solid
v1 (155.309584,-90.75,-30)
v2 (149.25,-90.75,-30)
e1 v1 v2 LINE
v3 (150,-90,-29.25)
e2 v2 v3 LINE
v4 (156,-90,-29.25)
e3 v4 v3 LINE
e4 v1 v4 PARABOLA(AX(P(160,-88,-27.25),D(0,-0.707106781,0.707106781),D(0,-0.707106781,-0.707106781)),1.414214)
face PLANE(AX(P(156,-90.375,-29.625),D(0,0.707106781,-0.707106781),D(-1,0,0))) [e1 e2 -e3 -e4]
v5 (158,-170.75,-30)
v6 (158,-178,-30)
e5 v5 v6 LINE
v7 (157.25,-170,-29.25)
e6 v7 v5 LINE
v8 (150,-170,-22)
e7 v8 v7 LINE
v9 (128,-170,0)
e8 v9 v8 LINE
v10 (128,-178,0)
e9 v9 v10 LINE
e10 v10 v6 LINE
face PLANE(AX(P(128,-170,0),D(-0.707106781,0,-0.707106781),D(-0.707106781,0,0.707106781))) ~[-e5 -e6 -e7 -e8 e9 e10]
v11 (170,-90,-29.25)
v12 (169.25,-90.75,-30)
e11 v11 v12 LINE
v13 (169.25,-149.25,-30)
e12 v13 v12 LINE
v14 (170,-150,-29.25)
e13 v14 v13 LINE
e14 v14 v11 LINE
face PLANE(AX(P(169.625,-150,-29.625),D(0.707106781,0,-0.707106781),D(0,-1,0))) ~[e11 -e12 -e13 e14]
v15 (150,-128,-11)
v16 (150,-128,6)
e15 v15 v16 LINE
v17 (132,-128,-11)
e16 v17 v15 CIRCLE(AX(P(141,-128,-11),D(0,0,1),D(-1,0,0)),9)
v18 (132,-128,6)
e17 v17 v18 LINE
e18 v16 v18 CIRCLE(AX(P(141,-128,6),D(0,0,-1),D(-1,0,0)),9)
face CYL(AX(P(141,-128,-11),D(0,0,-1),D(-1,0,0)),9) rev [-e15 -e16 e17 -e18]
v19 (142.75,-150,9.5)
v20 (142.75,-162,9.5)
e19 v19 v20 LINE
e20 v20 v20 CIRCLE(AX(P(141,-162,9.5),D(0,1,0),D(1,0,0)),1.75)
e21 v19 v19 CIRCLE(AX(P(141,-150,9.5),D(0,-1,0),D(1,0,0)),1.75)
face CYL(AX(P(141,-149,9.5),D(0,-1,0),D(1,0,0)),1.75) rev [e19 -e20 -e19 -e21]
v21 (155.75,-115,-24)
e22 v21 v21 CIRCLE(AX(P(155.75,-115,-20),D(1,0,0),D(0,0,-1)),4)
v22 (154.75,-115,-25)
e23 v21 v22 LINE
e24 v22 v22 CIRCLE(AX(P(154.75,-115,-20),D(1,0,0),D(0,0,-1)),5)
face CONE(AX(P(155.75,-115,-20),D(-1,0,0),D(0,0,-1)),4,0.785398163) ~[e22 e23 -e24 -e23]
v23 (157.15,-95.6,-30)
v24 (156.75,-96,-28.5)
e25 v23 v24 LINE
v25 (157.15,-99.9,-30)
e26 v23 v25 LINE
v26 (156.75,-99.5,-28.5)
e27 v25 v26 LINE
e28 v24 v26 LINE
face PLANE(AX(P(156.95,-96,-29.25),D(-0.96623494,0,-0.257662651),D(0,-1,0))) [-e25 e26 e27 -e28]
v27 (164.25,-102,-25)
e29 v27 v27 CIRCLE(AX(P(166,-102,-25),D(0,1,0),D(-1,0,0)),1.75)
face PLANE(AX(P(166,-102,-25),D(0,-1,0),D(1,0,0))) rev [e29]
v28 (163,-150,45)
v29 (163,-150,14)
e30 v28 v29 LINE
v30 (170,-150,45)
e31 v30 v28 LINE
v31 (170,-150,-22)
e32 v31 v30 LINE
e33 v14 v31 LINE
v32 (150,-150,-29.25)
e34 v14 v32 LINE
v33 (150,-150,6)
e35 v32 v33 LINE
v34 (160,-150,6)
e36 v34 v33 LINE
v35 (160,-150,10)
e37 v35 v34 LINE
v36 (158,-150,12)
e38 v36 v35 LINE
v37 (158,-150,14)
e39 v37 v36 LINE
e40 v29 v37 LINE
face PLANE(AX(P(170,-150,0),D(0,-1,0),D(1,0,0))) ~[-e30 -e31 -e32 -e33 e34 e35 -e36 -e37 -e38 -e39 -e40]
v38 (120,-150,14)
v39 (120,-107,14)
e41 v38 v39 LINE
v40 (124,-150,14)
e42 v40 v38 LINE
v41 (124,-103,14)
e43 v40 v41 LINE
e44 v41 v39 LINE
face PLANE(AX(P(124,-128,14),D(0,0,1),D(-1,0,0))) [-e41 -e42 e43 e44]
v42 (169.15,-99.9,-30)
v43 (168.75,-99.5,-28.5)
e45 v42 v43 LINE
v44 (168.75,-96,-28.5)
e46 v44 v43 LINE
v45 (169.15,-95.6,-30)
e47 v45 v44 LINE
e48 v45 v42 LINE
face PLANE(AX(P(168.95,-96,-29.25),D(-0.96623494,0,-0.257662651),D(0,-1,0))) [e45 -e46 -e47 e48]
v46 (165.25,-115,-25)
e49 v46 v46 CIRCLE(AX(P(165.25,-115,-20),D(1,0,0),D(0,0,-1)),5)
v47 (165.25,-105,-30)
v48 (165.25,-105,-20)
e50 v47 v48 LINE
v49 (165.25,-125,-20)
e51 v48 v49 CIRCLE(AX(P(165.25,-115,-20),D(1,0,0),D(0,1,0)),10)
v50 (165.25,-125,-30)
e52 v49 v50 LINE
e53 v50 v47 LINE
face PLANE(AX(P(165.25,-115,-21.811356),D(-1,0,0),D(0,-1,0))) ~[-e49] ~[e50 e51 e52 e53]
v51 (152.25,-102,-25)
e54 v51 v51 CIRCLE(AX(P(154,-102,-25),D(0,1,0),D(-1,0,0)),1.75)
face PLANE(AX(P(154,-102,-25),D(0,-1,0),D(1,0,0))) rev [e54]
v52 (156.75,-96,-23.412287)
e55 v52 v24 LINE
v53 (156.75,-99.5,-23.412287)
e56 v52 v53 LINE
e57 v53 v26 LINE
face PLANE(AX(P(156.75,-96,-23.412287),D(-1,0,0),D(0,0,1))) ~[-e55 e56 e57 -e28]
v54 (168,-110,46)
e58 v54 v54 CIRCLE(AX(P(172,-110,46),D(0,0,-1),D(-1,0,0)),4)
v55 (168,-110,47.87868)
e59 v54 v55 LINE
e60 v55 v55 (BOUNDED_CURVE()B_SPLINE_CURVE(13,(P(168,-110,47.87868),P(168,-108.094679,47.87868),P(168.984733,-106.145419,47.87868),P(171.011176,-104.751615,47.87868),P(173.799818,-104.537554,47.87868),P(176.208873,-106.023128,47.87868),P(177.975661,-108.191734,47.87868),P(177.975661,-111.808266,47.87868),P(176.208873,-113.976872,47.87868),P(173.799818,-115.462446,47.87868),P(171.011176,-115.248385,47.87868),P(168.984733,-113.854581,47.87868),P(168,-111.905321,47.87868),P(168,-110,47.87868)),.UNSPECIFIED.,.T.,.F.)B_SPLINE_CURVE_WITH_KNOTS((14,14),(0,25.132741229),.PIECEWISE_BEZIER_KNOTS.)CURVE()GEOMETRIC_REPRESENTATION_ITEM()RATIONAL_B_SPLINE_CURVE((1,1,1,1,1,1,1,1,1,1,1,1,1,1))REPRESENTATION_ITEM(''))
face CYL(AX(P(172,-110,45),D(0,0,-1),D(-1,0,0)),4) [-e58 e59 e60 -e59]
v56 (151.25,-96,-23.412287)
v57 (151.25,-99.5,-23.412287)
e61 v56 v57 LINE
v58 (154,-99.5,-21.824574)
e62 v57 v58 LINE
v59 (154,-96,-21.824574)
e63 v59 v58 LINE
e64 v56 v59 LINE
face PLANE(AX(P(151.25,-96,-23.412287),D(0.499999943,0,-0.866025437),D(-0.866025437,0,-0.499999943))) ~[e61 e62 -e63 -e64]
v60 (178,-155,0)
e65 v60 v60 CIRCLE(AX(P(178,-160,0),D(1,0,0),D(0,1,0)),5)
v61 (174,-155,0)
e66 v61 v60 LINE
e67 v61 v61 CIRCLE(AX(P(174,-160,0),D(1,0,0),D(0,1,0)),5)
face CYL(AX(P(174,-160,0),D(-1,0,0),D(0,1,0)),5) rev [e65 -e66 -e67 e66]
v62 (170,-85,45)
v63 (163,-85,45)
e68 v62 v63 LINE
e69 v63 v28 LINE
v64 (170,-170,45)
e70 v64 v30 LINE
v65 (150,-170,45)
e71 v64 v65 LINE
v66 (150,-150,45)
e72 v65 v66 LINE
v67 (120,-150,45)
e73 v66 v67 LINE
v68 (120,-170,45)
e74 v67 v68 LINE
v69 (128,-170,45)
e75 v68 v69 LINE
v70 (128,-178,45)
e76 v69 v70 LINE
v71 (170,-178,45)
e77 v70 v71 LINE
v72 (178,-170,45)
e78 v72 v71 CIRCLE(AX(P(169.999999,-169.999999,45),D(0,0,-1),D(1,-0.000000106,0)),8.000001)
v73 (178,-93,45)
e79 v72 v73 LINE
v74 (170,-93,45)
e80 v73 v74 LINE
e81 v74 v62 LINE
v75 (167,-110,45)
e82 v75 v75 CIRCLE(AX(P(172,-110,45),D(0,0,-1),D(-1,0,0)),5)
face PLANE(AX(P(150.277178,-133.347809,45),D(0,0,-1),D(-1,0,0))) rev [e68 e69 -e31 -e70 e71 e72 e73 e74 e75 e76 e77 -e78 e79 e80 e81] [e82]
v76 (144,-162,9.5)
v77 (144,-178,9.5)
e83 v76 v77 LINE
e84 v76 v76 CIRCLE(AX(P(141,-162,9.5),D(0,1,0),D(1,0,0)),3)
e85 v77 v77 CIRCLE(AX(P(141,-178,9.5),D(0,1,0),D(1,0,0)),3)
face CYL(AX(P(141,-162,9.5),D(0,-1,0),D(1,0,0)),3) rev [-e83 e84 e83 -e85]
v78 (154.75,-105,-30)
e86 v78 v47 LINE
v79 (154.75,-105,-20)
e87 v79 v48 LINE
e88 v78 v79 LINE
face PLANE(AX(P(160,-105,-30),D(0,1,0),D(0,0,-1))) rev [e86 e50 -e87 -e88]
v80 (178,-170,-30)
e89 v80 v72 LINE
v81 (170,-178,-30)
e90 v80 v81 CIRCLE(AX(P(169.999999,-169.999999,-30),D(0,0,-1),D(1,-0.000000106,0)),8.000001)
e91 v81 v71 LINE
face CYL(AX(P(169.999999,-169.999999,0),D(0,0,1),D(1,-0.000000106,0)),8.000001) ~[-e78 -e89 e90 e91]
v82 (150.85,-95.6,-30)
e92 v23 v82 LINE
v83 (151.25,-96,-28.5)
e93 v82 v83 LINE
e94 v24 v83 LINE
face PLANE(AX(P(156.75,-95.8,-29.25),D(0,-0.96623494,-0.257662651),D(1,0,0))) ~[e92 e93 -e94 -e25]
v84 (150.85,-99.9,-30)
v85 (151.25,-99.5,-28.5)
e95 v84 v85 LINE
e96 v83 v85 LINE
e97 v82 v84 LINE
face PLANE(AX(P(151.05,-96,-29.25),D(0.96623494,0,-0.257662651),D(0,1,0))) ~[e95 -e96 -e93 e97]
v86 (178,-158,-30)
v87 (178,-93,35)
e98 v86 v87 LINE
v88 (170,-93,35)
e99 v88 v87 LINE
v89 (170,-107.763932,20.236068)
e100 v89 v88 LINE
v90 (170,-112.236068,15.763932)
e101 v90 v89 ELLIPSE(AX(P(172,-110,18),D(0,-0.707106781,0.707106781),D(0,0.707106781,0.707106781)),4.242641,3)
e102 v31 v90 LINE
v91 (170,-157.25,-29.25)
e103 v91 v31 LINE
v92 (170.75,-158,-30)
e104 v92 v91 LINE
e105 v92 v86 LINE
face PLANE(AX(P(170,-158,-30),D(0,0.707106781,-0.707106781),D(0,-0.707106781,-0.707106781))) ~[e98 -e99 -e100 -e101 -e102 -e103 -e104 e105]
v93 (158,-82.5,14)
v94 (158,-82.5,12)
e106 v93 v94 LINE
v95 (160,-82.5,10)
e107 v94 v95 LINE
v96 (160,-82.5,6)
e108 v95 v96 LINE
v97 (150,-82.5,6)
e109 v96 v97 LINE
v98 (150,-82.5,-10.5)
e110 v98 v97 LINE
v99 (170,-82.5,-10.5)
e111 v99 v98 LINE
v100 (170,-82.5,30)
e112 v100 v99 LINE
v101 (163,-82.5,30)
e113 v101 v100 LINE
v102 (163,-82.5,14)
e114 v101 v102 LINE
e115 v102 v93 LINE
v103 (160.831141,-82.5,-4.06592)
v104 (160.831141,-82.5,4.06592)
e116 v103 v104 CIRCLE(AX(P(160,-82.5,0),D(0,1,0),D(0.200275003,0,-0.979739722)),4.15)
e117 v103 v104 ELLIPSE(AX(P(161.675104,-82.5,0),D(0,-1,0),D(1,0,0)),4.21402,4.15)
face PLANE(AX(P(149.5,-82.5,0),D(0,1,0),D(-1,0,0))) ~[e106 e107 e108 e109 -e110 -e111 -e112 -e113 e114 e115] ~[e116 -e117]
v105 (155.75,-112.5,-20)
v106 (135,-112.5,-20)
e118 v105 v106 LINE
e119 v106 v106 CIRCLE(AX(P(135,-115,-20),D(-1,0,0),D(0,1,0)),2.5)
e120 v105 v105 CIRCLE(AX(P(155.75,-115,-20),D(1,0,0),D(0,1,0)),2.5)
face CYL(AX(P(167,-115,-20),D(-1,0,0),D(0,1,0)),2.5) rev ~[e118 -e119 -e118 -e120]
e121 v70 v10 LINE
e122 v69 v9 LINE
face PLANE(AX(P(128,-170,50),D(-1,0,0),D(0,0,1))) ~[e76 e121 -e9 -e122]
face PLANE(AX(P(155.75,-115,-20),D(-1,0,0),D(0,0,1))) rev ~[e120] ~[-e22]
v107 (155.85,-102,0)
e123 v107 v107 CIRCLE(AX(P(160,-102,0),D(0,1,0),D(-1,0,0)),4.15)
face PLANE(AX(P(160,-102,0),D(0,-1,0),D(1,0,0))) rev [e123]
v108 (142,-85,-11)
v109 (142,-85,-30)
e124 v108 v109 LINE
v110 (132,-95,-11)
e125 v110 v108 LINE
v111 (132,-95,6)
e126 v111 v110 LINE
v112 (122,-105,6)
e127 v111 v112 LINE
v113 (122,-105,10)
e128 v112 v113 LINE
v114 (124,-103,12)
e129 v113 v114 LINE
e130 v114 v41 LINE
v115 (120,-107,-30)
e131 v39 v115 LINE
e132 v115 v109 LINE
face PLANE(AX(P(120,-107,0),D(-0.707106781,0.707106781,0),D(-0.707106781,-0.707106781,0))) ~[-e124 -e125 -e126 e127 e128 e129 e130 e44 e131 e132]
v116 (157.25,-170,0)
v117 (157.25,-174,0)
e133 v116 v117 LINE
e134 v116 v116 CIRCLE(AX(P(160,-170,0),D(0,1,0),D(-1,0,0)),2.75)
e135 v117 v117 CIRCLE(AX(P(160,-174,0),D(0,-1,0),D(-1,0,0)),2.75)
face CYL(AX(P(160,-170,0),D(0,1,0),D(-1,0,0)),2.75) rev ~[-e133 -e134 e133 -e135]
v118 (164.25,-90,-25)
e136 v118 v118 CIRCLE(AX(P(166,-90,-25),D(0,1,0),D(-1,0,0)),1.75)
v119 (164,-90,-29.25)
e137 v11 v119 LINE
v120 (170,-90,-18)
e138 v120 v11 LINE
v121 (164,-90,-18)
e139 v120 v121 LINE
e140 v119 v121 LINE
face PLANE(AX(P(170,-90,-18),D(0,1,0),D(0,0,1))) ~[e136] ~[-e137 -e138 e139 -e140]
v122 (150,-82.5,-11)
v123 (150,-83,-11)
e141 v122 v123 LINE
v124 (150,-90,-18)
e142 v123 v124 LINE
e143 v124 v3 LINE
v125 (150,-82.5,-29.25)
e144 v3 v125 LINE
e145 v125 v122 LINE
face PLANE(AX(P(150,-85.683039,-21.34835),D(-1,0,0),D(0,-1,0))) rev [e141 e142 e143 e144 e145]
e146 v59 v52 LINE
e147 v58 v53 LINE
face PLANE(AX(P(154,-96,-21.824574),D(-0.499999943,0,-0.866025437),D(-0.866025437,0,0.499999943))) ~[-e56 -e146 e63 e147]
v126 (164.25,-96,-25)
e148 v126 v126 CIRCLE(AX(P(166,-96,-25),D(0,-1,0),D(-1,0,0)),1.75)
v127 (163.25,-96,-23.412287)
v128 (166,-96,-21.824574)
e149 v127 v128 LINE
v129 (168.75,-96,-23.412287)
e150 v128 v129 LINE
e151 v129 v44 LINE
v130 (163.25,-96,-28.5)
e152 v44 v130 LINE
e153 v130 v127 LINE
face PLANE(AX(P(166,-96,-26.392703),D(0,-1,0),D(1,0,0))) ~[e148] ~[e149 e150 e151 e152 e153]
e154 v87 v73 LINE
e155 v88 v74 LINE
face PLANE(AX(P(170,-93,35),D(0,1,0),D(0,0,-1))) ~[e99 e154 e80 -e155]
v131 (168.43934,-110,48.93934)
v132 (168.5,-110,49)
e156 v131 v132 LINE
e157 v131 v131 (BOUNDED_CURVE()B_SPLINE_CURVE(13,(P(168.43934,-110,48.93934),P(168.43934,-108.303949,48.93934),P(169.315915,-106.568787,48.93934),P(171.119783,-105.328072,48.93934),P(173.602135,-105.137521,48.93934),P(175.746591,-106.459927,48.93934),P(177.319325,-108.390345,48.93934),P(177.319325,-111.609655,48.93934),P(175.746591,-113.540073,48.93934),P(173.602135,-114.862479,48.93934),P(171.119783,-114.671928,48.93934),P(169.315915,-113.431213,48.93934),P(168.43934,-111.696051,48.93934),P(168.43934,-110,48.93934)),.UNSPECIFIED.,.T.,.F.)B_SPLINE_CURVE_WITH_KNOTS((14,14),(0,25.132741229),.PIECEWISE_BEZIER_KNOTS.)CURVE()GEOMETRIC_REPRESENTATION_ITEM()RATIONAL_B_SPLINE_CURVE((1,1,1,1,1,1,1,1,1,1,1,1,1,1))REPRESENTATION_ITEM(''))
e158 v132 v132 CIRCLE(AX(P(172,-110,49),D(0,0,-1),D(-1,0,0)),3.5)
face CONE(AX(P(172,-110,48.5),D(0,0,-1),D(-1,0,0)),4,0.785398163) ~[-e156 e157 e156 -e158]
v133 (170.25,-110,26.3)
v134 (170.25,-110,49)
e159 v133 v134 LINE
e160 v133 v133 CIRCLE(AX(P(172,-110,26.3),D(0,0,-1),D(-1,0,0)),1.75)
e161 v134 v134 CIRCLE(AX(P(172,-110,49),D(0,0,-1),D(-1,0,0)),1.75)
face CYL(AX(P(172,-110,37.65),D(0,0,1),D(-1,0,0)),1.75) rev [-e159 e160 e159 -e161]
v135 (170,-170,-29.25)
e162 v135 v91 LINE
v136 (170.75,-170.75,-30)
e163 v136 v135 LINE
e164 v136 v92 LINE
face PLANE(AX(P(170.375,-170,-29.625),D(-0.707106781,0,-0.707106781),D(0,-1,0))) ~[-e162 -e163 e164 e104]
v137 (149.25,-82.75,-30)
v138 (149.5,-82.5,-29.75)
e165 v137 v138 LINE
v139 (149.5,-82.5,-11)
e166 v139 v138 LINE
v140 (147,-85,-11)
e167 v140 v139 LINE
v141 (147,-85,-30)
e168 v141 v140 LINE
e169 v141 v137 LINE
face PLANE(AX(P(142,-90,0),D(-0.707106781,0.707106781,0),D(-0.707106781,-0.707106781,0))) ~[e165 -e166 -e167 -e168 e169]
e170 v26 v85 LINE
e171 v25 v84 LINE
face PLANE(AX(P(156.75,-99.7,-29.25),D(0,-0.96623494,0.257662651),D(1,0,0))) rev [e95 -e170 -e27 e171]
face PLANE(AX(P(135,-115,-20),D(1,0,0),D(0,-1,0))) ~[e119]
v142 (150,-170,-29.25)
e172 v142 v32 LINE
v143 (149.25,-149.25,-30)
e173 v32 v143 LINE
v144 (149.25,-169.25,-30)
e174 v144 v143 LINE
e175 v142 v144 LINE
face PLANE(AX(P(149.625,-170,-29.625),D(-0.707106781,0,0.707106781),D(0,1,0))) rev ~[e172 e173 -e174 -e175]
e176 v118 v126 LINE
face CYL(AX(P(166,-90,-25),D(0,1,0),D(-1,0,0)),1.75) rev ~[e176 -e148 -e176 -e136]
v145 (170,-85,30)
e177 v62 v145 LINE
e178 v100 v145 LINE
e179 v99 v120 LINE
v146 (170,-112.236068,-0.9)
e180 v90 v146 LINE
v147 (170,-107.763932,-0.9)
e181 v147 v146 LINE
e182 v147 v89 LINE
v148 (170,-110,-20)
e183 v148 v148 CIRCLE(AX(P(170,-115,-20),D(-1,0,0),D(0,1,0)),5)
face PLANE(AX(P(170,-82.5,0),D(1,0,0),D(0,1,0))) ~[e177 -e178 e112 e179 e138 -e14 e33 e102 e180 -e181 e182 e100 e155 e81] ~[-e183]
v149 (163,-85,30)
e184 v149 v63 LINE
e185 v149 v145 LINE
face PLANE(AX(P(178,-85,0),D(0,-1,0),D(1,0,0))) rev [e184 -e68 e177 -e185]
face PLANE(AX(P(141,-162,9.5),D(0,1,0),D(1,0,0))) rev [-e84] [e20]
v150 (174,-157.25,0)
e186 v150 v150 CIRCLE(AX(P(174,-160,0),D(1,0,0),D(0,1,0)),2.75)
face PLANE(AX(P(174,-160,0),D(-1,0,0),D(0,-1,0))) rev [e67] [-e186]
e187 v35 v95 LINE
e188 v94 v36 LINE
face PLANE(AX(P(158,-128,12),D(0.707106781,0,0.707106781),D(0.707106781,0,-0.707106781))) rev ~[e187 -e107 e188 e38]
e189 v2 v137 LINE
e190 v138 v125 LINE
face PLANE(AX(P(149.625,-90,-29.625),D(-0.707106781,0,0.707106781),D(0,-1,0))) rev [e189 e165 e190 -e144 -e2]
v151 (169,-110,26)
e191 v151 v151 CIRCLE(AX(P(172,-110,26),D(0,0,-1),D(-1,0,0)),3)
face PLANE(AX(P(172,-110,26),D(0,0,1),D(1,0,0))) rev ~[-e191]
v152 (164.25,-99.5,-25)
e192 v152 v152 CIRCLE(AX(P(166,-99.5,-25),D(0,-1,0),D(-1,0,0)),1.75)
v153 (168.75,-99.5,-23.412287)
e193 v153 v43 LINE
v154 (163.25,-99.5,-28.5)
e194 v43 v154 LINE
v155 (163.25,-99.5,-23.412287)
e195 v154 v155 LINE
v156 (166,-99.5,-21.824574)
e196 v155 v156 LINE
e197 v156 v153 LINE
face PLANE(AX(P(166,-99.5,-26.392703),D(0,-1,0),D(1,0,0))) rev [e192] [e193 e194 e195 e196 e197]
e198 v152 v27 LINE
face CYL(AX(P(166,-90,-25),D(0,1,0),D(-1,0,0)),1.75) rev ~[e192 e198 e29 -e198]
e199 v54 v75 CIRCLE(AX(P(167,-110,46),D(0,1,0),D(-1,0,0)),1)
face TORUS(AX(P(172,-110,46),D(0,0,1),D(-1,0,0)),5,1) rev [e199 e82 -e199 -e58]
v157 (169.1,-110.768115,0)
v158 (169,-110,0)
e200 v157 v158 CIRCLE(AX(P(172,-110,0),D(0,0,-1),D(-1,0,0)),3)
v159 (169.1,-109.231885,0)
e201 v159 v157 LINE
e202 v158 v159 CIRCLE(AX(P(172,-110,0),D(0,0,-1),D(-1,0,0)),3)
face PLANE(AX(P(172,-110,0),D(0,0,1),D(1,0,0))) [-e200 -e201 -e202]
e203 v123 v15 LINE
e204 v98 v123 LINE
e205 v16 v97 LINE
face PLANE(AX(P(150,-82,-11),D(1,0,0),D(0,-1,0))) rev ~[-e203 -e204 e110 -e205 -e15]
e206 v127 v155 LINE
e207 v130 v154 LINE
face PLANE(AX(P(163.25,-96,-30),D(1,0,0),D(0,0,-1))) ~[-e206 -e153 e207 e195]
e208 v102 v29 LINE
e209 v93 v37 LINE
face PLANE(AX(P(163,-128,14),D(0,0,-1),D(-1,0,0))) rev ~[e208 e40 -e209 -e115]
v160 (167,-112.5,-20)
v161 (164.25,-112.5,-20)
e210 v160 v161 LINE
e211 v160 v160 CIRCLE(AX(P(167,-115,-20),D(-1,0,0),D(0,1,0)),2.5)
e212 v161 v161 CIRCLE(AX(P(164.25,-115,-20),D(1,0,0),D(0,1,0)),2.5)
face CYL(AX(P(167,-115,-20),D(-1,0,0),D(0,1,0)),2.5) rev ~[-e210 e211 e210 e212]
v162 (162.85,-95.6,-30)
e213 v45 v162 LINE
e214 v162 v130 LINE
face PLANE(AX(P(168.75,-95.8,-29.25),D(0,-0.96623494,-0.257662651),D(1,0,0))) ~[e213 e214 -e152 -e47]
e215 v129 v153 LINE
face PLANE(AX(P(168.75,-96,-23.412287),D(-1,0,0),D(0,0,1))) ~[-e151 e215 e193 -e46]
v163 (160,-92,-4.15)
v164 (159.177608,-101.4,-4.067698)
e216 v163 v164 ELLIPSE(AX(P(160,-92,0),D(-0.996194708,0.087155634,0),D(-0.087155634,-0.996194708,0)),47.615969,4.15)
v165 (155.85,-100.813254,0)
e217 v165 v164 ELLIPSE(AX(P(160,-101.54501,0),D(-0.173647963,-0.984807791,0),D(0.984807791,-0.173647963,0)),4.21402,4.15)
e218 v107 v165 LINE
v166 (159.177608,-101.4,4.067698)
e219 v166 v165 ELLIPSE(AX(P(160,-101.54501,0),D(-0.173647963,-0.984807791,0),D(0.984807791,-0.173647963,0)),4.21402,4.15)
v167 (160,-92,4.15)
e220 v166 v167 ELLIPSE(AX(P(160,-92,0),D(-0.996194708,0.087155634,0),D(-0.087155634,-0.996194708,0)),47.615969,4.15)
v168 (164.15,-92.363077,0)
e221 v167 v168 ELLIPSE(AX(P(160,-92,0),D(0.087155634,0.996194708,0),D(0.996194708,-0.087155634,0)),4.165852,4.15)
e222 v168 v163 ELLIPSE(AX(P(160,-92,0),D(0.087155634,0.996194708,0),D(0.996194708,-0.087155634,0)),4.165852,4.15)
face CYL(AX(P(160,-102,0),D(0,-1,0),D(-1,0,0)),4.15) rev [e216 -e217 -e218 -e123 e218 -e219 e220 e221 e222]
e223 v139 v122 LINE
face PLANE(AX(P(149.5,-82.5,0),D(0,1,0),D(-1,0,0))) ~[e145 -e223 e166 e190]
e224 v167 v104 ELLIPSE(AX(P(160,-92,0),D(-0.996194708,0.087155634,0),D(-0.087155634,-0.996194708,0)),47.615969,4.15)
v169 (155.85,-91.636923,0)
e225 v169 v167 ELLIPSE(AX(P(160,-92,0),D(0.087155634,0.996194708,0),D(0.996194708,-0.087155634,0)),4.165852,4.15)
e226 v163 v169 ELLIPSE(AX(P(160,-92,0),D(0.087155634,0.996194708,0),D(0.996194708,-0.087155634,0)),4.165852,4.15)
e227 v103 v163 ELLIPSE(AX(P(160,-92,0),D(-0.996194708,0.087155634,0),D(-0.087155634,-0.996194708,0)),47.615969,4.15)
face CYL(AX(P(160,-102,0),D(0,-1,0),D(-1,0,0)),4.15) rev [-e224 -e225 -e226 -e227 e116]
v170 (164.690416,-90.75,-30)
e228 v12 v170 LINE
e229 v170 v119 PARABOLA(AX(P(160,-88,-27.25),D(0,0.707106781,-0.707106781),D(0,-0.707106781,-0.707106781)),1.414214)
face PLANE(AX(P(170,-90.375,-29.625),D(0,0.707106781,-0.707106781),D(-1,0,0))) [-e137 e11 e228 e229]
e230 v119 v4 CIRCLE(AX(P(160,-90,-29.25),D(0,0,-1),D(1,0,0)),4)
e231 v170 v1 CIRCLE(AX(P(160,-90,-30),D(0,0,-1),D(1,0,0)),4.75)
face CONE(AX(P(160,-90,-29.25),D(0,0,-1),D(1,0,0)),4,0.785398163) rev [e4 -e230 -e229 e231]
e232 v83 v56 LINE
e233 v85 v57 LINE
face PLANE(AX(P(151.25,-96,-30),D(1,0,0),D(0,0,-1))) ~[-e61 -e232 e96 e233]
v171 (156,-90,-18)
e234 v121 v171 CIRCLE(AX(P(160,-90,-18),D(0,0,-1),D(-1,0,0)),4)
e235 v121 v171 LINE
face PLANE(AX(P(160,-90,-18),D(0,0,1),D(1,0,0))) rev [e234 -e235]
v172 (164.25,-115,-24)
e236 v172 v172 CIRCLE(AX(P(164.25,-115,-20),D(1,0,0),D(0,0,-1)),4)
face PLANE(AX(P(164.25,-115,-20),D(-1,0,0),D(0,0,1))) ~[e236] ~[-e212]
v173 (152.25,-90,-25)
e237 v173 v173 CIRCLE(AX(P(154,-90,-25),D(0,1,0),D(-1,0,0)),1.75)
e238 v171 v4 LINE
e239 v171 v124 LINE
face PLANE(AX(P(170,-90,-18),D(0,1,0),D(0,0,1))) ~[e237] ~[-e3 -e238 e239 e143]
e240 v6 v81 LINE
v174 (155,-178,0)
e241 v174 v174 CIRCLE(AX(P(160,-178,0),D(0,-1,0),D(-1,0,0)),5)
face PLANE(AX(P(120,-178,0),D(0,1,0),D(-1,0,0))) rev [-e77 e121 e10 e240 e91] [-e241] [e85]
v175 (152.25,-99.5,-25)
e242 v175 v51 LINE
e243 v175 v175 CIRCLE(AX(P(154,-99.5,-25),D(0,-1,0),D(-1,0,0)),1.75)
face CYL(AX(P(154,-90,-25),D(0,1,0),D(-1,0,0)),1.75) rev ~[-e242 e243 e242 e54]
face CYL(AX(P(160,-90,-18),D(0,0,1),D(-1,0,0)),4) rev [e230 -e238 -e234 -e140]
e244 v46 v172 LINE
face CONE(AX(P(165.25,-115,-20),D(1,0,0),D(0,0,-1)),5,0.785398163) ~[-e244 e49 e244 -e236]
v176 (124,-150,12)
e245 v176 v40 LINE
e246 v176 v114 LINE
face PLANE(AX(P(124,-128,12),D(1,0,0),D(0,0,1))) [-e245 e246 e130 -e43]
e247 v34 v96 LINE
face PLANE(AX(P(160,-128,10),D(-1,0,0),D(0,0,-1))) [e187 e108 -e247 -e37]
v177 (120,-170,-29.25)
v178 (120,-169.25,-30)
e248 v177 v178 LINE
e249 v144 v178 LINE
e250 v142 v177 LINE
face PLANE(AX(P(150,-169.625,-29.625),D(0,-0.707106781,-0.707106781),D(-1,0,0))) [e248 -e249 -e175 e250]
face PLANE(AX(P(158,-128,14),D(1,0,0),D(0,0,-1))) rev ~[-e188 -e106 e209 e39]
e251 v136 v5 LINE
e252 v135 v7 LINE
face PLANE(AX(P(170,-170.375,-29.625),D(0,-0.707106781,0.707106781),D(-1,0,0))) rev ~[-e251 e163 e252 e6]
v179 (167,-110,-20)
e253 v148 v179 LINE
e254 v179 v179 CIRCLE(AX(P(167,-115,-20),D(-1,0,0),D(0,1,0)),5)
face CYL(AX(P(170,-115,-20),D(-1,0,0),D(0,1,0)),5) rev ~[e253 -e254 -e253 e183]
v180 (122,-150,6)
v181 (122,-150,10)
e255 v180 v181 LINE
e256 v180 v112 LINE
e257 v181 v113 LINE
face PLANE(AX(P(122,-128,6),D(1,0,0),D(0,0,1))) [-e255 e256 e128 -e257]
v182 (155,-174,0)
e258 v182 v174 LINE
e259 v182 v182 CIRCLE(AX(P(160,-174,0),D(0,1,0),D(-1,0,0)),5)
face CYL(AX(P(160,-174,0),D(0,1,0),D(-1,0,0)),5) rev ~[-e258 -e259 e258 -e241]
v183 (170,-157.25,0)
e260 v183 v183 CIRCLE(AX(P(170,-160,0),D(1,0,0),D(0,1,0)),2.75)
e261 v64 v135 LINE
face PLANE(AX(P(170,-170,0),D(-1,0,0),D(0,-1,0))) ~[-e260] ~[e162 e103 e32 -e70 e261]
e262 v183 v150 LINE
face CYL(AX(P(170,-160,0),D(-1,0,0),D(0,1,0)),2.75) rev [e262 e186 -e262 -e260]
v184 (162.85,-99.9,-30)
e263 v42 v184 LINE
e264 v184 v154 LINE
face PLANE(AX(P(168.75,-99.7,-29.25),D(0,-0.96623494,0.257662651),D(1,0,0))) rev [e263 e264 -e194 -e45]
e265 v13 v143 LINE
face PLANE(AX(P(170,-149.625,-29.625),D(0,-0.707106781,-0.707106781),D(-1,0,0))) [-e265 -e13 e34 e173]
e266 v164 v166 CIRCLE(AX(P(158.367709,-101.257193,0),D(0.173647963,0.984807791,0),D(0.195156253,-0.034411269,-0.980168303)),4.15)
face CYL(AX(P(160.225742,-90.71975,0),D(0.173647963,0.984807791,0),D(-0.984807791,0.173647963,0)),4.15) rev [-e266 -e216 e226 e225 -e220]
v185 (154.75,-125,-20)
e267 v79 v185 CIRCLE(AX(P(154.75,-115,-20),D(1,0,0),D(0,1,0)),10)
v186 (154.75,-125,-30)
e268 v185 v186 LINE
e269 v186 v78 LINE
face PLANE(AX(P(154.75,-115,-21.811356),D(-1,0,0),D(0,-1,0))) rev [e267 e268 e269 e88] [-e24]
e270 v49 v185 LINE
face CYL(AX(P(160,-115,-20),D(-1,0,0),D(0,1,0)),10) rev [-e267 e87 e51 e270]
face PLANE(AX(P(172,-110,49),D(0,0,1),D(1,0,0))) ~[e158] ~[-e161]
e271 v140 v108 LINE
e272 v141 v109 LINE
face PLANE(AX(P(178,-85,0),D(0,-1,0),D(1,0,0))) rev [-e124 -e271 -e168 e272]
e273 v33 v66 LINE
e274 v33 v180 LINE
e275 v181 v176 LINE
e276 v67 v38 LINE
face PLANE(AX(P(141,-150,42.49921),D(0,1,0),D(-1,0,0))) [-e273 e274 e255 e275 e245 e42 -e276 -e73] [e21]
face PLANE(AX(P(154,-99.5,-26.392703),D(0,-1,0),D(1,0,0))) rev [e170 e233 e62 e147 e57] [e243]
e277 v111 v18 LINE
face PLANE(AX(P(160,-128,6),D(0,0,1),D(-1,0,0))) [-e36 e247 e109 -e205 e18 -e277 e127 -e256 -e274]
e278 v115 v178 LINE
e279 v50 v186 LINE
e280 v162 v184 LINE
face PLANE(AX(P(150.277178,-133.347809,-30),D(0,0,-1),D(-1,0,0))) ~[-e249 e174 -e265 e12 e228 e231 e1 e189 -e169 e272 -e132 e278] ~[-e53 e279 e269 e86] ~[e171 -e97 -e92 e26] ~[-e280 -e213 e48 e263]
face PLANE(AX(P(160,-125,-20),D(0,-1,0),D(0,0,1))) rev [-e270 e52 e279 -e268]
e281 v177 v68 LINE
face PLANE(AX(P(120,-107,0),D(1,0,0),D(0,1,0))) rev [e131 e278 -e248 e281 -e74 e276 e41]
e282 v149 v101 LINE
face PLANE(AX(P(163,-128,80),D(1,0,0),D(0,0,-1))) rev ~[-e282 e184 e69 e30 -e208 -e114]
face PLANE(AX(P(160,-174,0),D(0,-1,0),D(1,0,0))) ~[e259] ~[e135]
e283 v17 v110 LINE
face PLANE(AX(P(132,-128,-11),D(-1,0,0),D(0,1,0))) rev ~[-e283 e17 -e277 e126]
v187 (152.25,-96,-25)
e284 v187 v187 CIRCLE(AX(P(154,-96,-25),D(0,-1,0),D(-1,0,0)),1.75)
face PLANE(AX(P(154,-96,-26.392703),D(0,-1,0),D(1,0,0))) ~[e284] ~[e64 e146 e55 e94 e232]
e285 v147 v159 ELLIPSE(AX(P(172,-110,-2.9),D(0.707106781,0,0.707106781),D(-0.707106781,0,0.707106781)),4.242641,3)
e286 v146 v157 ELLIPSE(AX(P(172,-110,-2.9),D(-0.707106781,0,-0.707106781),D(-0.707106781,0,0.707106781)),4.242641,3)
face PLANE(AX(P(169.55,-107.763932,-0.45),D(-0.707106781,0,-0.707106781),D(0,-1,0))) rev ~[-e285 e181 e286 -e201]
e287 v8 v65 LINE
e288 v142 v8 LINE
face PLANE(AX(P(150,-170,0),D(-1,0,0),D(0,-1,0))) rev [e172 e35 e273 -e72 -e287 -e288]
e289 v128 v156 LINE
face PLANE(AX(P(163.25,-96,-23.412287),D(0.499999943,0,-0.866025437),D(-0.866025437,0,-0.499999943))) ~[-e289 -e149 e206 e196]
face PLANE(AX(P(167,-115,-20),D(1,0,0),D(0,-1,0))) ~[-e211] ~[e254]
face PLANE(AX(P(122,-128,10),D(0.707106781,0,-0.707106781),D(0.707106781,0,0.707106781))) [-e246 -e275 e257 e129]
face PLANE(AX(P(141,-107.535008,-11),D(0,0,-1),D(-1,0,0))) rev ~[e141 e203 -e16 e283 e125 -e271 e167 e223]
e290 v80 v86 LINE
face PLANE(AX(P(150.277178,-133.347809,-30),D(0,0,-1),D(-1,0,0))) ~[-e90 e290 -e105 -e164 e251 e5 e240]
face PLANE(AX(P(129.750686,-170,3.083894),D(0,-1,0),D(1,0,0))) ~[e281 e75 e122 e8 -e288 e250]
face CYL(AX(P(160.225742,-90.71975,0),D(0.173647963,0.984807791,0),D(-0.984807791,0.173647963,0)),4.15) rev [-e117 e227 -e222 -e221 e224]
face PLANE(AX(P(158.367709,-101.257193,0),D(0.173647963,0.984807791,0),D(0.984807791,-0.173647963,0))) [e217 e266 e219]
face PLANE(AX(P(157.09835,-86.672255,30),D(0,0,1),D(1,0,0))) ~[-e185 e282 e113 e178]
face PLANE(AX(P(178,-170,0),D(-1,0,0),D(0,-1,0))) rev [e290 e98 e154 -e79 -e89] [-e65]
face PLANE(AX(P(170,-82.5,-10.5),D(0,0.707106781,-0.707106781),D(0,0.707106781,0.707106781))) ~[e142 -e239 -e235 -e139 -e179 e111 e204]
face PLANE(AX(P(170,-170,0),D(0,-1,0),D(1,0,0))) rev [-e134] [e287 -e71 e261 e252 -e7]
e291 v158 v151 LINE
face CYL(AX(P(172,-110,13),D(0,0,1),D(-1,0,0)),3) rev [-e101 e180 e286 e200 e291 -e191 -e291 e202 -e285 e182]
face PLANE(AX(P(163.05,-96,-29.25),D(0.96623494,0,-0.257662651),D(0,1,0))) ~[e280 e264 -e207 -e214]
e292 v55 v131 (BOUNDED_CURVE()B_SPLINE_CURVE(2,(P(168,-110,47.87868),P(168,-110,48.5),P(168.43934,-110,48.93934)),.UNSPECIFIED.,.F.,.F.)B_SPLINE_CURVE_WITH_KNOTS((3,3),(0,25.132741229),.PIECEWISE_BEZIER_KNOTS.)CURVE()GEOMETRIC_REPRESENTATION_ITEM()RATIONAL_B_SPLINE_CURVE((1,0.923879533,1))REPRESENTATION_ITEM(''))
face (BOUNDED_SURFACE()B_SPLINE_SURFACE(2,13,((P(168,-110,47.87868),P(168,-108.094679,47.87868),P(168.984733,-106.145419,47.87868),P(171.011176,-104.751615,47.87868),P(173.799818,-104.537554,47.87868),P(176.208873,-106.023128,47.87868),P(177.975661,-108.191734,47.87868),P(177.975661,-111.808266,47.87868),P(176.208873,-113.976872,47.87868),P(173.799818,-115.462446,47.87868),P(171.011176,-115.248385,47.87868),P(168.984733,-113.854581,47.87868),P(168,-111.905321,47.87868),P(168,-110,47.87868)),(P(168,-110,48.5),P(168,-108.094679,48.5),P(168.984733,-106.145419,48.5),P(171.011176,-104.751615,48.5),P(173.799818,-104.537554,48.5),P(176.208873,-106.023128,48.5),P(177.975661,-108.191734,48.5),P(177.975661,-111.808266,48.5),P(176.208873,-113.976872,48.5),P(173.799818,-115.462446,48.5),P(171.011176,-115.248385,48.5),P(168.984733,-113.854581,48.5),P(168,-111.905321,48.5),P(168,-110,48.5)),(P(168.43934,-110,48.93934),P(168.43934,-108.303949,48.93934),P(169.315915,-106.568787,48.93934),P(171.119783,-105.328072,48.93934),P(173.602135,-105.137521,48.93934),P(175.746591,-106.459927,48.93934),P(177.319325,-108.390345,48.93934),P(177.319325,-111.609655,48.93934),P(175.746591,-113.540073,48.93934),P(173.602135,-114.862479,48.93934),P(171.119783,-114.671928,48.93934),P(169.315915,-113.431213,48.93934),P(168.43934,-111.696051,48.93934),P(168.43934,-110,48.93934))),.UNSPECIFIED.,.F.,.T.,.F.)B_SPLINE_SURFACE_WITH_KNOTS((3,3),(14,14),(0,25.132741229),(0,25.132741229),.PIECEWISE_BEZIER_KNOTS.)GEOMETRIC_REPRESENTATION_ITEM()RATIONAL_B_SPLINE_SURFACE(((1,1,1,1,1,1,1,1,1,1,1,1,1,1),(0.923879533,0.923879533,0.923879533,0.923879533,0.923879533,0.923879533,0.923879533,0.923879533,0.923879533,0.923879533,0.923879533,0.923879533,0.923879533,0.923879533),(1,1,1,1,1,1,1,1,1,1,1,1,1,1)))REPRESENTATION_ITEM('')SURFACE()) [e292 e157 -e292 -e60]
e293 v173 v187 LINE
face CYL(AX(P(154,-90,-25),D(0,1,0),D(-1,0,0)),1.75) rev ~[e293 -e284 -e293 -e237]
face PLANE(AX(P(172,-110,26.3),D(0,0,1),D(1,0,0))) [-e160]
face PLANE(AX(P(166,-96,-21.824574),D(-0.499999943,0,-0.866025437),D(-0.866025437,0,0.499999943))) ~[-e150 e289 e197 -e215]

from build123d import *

# Parameters (mm, degrees)
SKETCH486_W          = 20
SKETCH486_H          = 20
PAD109_DEPTH         = 45
PAD109_DEPTH_BACK    = 30
PAD111_DEPTH         = 30
PAD111_DEPTH_BACK    = 30
POCKET345_DEPTH      = 8.001
POCKET348_DEPTH      = 8.001
POCKET371_DEPTH      = 5.25
SKETCH591_R          = 2.75
POCKET420_DEPTH      = 8.001
SKETCH592_R          = 5
POCKET421_DEPTH      = 4.001
SKETCH593_R          = 2.75
POCKET422_DEPTH      = 8.001
SKETCH594_R          = 5
POCKET423_DEPTH      = 4.001
SKETCH630_R          = 4
POCKET453_DEPTH      = 12.001
POCKET454_DEPTH      = 20
SKETCH632_R          = 1.75
POCKET455_DEPTH      = 12
POCKET456_DEPTH      = 3.5
SKETCH634_R          = 4.15
POCKET457_DEPTH      = 19.501
SKETCH651_W          = 4.15
SKETCH651_H          = 21.4
SKETCH663_R          = 4
PAD139_DEPTH         = 4
CHAMFER029_SIZE      = 0.5
FILLET027_R          = 1.5
FILLET028_R          = 1
SKETCH662_W          = 1.75
SKETCH662_H          = 22.7
SKETCH662_W_2        = 3
SKETCH662_H_2        = 26
CHAMFER030_SIZE      = 0.9
CHAMFER031_SIZE      = 0.75
CHAMFER032_SIZE2     = 1.5
CHAMFER032_SIZE      = 0.4
POCKET474_DEPTH      = 80
POCKET474_DEPTH_BACK = 22
POCKET475_DEPTH      = 60.001


with BuildPart() as xy_motor_mount_left_drv:
    # Sketch486 → Pad109 (new body, two sides)
    with BuildSketch(Plane.XY) as pad109_sk:
        with BuildLine():
            Line((-8, 0), (-8, 85))
            Line((-8, 85), (28, 85))
            Line((50, 63), (28, 85))
            Line((50, 63), (50, -8))
            Line((50, -8), (0, -8))
            ThreePointArc((-8, 0), (-5.656854, -5.656854), (0, -8))
        make_face()
        with Locations((10, 10)):
            Rectangle(SKETCH486_W, SKETCH486_H, mode=Mode.SUBTRACT)
    extrude(amount=PAD109_DEPTH)
    extrude(pad109_sk.sketch, amount=-PAD109_DEPTH_BACK)

    # Sketch493 → Pad111 (join, two sides)
    with BuildSketch(Plane.XY) as pad111_sk:
        Polygon((0, 80), (28, 80), (20.5, 87.5), (0, 87.5), align=None)
    extrude(amount=PAD111_DEPTH)
    extrude(pad111_sk.sketch, amount=-PAD111_DEPTH_BACK)

    # Sketch495 → Pocket345 (cut, through all)
    with BuildSketch(Plane.YZ):
        Polygon((85, 50), (85, -30), (12, -30), (77, 35), (77, 50), align=None)
    extrude(amount=-POCKET345_DEPTH, mode=Mode.SUBTRACT)

    # Sketch498 → Pocket348 (cut, through all)
    with BuildSketch(Plane.XZ):
        Polygon((50, 50), (42, 50), (42, 0), (12, -30), (50, -30), align=None)
    extrude(amount=POCKET348_DEPTH, mode=Mode.SUBTRACT)

    # Sketch523 → Pocket371 (cut, symmetric)
    with BuildSketch(Plane.YZ.offset(10)):
        with BuildLine():
            ThreePointArc((65, -20), (55, -10), (45, -20))
            Line((45, -20), (45, -30))
            Line((45, -30), (65, -30))
            Line((65, -30), (65, -20))
        make_face()
    extrude(amount=POCKET371_DEPTH, both=True, mode=Mode.SUBTRACT)

    # Sketch524 → Revolution (revolve)
    with BuildSketch(Plane(origin=(10, 55, -20), x_dir=(1, 0, 0), z_dir=(0, -1, 0))):
        Polygon((4.25, 0), (4.25, -4), (5.25, -5), (5.25, 0), align=None)
        Polygon((-5.25, 0), (-5.25, -5), (-4.25, -4), (-4.25, 0), align=None)
    revolve(axis=Axis((10, 55, -20), (1, 0, 0)))

    # Sketch525 → Groove018 (revolve, cut)
    with BuildSketch(Plane(origin=(0, 55, -20), x_dir=(1, 0, 0), z_dir=(0, 0, 1))):
        Polygon((0, 0), (0, 5), (3, 5), (3, 2.5), (35, 2.5), (35, 0), align=None)
    revolve(axis=Axis((35, 55, -20), (-1, 0, 0)), mode=Mode.SUBTRACT)

    # Sketch591 → Pocket420 (cut, through all)
    with BuildSketch(Plane.YZ):
        with Locations((10, 0)):
            Circle(SKETCH591_R)
    extrude(amount=-POCKET420_DEPTH, mode=Mode.SUBTRACT)

    # Sketch592 → Pocket421 (cut, through all)
    with BuildSketch(Plane.YZ.offset(-4)):
        with Locations((10, 0)):
            Circle(SKETCH592_R)
    extrude(amount=-POCKET421_DEPTH, mode=Mode.SUBTRACT)

    # Sketch593 → Pocket422 (cut, through all)
    with BuildSketch(Plane.XZ):
        with Locations((10, 0)):
            Circle(SKETCH593_R)
    extrude(amount=POCKET422_DEPTH, mode=Mode.SUBTRACT)

    # Sketch594 → Pocket423 (cut, through all)
    with BuildSketch(Plane.XZ.offset(4)):
        with Locations((10, 0)):
            Circle(SKETCH594_R)
    extrude(amount=POCKET423_DEPTH, mode=Mode.SUBTRACT)

    # Sketch630 → Pocket453 (cut, through all)
    with BuildSketch(Plane.XY.offset(-18)):
        with Locations((10, 80)):
            Circle(SKETCH630_R)
    extrude(amount=-POCKET453_DEPTH, mode=Mode.SUBTRACT)

    # Sketch631 → Pocket454 (cut)
    with BuildSketch(Plane.YZ):
        Polygon((80, -18), (80, -30), (87.5, -30), (87.5, -10.5), align=None)
    extrude(amount=POCKET454_DEPTH, mode=Mode.SUBTRACT)

    # Sketch632 → Pocket455 (cut)
    with BuildSketch(Plane.XZ.offset(-80)):
        with Locations((4, -25)):
            Circle(SKETCH632_R)
        with Locations((16, -25)):
            Circle(SKETCH632_R)
    extrude(amount=POCKET455_DEPTH, mode=Mode.SUBTRACT)

    # Sketch633 → Pocket456 (cut)
    with BuildSketch(Plane.XZ.offset(-74)):
        Polygon((4, -21.824574), (1.25, -23.412287), (1.25, -26.587713), (1.25, -30), (6.75, -30), (6.75, -26.587713), (6.75, -23.412287), align=None)
        Polygon((16, -21.824574), (13.25, -23.412287), (13.25, -26.587713), (13.25, -30), (18.75, -30), (18.75, -26.587713), (18.75, -23.412287), align=None)
    extrude(amount=POCKET456_DEPTH, mode=Mode.SUBTRACT)

    # Sketch634 → Pocket457 (cut, through all)
    with BuildSketch(Plane.XZ.offset(-68)):
        with Locations((10, 0)):
            Circle(SKETCH634_R)
    extrude(amount=-POCKET457_DEPTH, mode=Mode.SUBTRACT)

    # Sketch651 → Groove028 (revolve, cut)
    with BuildSketch(Plane(origin=(10, 78, 0), x_dir=(0.984808, 0.173648, 0), z_dir=(0, 0, 1))):
        with Locations((2.075, 1.3)):
            Rectangle(SKETCH651_W, SKETCH651_H)
    revolve(axis=Axis((10, 78, 0), (-0.173648, 0.984808, 0)), mode=Mode.SUBTRACT)

    # Sketch663 → Pad139 (join)
    with BuildSketch(Plane.XY.offset(45)):
        with Locations((-2, 60)):
            Circle(SKETCH663_R)
    extrude(amount=PAD139_DEPTH)

    # Chamfer029
    chamfer029_edges = [xy_motor_mount_left_drv.edges().sort_by_distance(p)[0] for p in [
        (-6, 60, 49),
    ]]
    chamfer(chamfer029_edges, length=CHAMFER029_SIZE)

    # Fillet027
    fillet027_edges = [xy_motor_mount_left_drv.edges().sort_by_distance(p)[0] for p in [
        (-6, 60, 48.5),
    ]]
    fillet(fillet027_edges, radius=FILLET027_R)

    # Fillet028
    fillet028_edges = [xy_motor_mount_left_drv.edges().sort_by_distance(p)[0] for p in [
        (-6, 60, 45),
    ]]
    fillet(fillet028_edges, radius=FILLET028_R)

    # Sketch662 → Groove033 (revolve, cut)
    with BuildSketch(Plane(origin=(-2, 60, 0), x_dir=(1, 0, 0), z_dir=(0, -1, 0))):
        with Locations((0.875, 37.65)):
            Rectangle(SKETCH662_W, SKETCH662_H)
        with Locations((1.5, 13)):
            Rectangle(SKETCH662_W_2, SKETCH662_H_2)
    revolve(axis=Axis((-2, 60, 0), (0, 0, 1)), mode=Mode.SUBTRACT)

    # Chamfer030
    chamfer030_edges = [xy_motor_mount_left_drv.edges().sort_by_distance(p)[0] for p in [
        (0, 60, 0),
    ]]
    chamfer(chamfer030_edges, length=CHAMFER030_SIZE)

    # Chamfer031
    chamfer031_edges = [xy_motor_mount_left_drv.edges().sort_by_distance(p)[0] for p in [
        (10, 20, -30),
        (0, 6, -30),
        (6, 0, -30),
        (20, 10, -30),
        (0, 50, -30),
        (35, 0, -30),
        (17, 80, -30),
        (10, 76, -30),
        (3, 80, -30),
        (20, 83.75, -30),
    ]]
    chamfer(chamfer031_edges, length=CHAMFER031_SIZE)

    # Chamfer032
    chamfer032_edges = [xy_motor_mount_left_drv.edges().sort_by_distance(p)[0] for p in [
        (1.25, 72.25, -30),
        (6.75, 72.25, -30),
        (4, 70.5, -30),
        (4, 74, -30),
        (13.25, 72.25, -30),
        (16, 70.5, -30),
        (18.75, 72.25, -30),
        (16, 74, -30),
    ]]
    chamfer032_side = xy_motor_mount_left_drv.faces().sort_by_distance((27.810533, 41.388296, -30))[0]
    chamfer(chamfer032_edges, length=CHAMFER032_SIZE, length2=CHAMFER032_SIZE2, reference=chamfer032_side)


with BuildPart() as xy_motor_mount_right:
    # Part__Mirroring097: instance of xy-motor-mount-left-drv
    add(xy_motor_mount_left_drv.part.mirror(Plane(origin=(0, 0, 0), x_dir=(0, -1, 0), z_dir=(1, 0, 0))))

    # Sketch659 → Pocket474 (cut, two sides)
    with BuildSketch(Plane.XZ.offset(-42)) as pocket474_sk:
        Polygon((-12, 14), (-12, 12), (-10, 10), (-10, 6), (-48, 6), (-48, 10), (-46, 12), (-46, 14), (-51, 14), (-51, 80), (-7, 80), (-7, 14), align=None)
    extrude(amount=-POCKET474_DEPTH, mode=Mode.SUBTRACT)
    extrude(pocket474_sk.sketch, amount=POCKET474_DEPTH_BACK, mode=Mode.SUBTRACT)

    # Sketch660 → Groove032 (revolve, cut)
    with BuildSketch(Plane.XY.offset(9.5)):
        Polygon((-29, 21), (-27.25, 21), (-27.25, 8), (-26, 8), (-26, -8), (-29, -8), align=None)
    revolve(axis=Axis((-29, -8, 9.5), (0, 1, 0)), mode=Mode.SUBTRACT)

    # Sketch661 → Pocket475 (cut, through all)
    with BuildSketch(Plane.XY.offset(-11)):
        with BuildLine():
            Line((-38, 42), (-38, 88))
            Line((-38, 88), (-20, 88))
            Line((-20, 88), (-20, 42))
            ThreePointArc((-38, 42), (-29, 33), (-20, 42))
        make_face()
    extrude(amount=POCKET475_DEPTH, mode=Mode.SUBTRACT)


with BuildPart() as xy_motor_mount_right_1:
    # Body206 placement: moved
    add(xy_motor_mount_right.part.moved(Location((170, -170, 0))))


solid = xy_motor_mount_right_1.part
